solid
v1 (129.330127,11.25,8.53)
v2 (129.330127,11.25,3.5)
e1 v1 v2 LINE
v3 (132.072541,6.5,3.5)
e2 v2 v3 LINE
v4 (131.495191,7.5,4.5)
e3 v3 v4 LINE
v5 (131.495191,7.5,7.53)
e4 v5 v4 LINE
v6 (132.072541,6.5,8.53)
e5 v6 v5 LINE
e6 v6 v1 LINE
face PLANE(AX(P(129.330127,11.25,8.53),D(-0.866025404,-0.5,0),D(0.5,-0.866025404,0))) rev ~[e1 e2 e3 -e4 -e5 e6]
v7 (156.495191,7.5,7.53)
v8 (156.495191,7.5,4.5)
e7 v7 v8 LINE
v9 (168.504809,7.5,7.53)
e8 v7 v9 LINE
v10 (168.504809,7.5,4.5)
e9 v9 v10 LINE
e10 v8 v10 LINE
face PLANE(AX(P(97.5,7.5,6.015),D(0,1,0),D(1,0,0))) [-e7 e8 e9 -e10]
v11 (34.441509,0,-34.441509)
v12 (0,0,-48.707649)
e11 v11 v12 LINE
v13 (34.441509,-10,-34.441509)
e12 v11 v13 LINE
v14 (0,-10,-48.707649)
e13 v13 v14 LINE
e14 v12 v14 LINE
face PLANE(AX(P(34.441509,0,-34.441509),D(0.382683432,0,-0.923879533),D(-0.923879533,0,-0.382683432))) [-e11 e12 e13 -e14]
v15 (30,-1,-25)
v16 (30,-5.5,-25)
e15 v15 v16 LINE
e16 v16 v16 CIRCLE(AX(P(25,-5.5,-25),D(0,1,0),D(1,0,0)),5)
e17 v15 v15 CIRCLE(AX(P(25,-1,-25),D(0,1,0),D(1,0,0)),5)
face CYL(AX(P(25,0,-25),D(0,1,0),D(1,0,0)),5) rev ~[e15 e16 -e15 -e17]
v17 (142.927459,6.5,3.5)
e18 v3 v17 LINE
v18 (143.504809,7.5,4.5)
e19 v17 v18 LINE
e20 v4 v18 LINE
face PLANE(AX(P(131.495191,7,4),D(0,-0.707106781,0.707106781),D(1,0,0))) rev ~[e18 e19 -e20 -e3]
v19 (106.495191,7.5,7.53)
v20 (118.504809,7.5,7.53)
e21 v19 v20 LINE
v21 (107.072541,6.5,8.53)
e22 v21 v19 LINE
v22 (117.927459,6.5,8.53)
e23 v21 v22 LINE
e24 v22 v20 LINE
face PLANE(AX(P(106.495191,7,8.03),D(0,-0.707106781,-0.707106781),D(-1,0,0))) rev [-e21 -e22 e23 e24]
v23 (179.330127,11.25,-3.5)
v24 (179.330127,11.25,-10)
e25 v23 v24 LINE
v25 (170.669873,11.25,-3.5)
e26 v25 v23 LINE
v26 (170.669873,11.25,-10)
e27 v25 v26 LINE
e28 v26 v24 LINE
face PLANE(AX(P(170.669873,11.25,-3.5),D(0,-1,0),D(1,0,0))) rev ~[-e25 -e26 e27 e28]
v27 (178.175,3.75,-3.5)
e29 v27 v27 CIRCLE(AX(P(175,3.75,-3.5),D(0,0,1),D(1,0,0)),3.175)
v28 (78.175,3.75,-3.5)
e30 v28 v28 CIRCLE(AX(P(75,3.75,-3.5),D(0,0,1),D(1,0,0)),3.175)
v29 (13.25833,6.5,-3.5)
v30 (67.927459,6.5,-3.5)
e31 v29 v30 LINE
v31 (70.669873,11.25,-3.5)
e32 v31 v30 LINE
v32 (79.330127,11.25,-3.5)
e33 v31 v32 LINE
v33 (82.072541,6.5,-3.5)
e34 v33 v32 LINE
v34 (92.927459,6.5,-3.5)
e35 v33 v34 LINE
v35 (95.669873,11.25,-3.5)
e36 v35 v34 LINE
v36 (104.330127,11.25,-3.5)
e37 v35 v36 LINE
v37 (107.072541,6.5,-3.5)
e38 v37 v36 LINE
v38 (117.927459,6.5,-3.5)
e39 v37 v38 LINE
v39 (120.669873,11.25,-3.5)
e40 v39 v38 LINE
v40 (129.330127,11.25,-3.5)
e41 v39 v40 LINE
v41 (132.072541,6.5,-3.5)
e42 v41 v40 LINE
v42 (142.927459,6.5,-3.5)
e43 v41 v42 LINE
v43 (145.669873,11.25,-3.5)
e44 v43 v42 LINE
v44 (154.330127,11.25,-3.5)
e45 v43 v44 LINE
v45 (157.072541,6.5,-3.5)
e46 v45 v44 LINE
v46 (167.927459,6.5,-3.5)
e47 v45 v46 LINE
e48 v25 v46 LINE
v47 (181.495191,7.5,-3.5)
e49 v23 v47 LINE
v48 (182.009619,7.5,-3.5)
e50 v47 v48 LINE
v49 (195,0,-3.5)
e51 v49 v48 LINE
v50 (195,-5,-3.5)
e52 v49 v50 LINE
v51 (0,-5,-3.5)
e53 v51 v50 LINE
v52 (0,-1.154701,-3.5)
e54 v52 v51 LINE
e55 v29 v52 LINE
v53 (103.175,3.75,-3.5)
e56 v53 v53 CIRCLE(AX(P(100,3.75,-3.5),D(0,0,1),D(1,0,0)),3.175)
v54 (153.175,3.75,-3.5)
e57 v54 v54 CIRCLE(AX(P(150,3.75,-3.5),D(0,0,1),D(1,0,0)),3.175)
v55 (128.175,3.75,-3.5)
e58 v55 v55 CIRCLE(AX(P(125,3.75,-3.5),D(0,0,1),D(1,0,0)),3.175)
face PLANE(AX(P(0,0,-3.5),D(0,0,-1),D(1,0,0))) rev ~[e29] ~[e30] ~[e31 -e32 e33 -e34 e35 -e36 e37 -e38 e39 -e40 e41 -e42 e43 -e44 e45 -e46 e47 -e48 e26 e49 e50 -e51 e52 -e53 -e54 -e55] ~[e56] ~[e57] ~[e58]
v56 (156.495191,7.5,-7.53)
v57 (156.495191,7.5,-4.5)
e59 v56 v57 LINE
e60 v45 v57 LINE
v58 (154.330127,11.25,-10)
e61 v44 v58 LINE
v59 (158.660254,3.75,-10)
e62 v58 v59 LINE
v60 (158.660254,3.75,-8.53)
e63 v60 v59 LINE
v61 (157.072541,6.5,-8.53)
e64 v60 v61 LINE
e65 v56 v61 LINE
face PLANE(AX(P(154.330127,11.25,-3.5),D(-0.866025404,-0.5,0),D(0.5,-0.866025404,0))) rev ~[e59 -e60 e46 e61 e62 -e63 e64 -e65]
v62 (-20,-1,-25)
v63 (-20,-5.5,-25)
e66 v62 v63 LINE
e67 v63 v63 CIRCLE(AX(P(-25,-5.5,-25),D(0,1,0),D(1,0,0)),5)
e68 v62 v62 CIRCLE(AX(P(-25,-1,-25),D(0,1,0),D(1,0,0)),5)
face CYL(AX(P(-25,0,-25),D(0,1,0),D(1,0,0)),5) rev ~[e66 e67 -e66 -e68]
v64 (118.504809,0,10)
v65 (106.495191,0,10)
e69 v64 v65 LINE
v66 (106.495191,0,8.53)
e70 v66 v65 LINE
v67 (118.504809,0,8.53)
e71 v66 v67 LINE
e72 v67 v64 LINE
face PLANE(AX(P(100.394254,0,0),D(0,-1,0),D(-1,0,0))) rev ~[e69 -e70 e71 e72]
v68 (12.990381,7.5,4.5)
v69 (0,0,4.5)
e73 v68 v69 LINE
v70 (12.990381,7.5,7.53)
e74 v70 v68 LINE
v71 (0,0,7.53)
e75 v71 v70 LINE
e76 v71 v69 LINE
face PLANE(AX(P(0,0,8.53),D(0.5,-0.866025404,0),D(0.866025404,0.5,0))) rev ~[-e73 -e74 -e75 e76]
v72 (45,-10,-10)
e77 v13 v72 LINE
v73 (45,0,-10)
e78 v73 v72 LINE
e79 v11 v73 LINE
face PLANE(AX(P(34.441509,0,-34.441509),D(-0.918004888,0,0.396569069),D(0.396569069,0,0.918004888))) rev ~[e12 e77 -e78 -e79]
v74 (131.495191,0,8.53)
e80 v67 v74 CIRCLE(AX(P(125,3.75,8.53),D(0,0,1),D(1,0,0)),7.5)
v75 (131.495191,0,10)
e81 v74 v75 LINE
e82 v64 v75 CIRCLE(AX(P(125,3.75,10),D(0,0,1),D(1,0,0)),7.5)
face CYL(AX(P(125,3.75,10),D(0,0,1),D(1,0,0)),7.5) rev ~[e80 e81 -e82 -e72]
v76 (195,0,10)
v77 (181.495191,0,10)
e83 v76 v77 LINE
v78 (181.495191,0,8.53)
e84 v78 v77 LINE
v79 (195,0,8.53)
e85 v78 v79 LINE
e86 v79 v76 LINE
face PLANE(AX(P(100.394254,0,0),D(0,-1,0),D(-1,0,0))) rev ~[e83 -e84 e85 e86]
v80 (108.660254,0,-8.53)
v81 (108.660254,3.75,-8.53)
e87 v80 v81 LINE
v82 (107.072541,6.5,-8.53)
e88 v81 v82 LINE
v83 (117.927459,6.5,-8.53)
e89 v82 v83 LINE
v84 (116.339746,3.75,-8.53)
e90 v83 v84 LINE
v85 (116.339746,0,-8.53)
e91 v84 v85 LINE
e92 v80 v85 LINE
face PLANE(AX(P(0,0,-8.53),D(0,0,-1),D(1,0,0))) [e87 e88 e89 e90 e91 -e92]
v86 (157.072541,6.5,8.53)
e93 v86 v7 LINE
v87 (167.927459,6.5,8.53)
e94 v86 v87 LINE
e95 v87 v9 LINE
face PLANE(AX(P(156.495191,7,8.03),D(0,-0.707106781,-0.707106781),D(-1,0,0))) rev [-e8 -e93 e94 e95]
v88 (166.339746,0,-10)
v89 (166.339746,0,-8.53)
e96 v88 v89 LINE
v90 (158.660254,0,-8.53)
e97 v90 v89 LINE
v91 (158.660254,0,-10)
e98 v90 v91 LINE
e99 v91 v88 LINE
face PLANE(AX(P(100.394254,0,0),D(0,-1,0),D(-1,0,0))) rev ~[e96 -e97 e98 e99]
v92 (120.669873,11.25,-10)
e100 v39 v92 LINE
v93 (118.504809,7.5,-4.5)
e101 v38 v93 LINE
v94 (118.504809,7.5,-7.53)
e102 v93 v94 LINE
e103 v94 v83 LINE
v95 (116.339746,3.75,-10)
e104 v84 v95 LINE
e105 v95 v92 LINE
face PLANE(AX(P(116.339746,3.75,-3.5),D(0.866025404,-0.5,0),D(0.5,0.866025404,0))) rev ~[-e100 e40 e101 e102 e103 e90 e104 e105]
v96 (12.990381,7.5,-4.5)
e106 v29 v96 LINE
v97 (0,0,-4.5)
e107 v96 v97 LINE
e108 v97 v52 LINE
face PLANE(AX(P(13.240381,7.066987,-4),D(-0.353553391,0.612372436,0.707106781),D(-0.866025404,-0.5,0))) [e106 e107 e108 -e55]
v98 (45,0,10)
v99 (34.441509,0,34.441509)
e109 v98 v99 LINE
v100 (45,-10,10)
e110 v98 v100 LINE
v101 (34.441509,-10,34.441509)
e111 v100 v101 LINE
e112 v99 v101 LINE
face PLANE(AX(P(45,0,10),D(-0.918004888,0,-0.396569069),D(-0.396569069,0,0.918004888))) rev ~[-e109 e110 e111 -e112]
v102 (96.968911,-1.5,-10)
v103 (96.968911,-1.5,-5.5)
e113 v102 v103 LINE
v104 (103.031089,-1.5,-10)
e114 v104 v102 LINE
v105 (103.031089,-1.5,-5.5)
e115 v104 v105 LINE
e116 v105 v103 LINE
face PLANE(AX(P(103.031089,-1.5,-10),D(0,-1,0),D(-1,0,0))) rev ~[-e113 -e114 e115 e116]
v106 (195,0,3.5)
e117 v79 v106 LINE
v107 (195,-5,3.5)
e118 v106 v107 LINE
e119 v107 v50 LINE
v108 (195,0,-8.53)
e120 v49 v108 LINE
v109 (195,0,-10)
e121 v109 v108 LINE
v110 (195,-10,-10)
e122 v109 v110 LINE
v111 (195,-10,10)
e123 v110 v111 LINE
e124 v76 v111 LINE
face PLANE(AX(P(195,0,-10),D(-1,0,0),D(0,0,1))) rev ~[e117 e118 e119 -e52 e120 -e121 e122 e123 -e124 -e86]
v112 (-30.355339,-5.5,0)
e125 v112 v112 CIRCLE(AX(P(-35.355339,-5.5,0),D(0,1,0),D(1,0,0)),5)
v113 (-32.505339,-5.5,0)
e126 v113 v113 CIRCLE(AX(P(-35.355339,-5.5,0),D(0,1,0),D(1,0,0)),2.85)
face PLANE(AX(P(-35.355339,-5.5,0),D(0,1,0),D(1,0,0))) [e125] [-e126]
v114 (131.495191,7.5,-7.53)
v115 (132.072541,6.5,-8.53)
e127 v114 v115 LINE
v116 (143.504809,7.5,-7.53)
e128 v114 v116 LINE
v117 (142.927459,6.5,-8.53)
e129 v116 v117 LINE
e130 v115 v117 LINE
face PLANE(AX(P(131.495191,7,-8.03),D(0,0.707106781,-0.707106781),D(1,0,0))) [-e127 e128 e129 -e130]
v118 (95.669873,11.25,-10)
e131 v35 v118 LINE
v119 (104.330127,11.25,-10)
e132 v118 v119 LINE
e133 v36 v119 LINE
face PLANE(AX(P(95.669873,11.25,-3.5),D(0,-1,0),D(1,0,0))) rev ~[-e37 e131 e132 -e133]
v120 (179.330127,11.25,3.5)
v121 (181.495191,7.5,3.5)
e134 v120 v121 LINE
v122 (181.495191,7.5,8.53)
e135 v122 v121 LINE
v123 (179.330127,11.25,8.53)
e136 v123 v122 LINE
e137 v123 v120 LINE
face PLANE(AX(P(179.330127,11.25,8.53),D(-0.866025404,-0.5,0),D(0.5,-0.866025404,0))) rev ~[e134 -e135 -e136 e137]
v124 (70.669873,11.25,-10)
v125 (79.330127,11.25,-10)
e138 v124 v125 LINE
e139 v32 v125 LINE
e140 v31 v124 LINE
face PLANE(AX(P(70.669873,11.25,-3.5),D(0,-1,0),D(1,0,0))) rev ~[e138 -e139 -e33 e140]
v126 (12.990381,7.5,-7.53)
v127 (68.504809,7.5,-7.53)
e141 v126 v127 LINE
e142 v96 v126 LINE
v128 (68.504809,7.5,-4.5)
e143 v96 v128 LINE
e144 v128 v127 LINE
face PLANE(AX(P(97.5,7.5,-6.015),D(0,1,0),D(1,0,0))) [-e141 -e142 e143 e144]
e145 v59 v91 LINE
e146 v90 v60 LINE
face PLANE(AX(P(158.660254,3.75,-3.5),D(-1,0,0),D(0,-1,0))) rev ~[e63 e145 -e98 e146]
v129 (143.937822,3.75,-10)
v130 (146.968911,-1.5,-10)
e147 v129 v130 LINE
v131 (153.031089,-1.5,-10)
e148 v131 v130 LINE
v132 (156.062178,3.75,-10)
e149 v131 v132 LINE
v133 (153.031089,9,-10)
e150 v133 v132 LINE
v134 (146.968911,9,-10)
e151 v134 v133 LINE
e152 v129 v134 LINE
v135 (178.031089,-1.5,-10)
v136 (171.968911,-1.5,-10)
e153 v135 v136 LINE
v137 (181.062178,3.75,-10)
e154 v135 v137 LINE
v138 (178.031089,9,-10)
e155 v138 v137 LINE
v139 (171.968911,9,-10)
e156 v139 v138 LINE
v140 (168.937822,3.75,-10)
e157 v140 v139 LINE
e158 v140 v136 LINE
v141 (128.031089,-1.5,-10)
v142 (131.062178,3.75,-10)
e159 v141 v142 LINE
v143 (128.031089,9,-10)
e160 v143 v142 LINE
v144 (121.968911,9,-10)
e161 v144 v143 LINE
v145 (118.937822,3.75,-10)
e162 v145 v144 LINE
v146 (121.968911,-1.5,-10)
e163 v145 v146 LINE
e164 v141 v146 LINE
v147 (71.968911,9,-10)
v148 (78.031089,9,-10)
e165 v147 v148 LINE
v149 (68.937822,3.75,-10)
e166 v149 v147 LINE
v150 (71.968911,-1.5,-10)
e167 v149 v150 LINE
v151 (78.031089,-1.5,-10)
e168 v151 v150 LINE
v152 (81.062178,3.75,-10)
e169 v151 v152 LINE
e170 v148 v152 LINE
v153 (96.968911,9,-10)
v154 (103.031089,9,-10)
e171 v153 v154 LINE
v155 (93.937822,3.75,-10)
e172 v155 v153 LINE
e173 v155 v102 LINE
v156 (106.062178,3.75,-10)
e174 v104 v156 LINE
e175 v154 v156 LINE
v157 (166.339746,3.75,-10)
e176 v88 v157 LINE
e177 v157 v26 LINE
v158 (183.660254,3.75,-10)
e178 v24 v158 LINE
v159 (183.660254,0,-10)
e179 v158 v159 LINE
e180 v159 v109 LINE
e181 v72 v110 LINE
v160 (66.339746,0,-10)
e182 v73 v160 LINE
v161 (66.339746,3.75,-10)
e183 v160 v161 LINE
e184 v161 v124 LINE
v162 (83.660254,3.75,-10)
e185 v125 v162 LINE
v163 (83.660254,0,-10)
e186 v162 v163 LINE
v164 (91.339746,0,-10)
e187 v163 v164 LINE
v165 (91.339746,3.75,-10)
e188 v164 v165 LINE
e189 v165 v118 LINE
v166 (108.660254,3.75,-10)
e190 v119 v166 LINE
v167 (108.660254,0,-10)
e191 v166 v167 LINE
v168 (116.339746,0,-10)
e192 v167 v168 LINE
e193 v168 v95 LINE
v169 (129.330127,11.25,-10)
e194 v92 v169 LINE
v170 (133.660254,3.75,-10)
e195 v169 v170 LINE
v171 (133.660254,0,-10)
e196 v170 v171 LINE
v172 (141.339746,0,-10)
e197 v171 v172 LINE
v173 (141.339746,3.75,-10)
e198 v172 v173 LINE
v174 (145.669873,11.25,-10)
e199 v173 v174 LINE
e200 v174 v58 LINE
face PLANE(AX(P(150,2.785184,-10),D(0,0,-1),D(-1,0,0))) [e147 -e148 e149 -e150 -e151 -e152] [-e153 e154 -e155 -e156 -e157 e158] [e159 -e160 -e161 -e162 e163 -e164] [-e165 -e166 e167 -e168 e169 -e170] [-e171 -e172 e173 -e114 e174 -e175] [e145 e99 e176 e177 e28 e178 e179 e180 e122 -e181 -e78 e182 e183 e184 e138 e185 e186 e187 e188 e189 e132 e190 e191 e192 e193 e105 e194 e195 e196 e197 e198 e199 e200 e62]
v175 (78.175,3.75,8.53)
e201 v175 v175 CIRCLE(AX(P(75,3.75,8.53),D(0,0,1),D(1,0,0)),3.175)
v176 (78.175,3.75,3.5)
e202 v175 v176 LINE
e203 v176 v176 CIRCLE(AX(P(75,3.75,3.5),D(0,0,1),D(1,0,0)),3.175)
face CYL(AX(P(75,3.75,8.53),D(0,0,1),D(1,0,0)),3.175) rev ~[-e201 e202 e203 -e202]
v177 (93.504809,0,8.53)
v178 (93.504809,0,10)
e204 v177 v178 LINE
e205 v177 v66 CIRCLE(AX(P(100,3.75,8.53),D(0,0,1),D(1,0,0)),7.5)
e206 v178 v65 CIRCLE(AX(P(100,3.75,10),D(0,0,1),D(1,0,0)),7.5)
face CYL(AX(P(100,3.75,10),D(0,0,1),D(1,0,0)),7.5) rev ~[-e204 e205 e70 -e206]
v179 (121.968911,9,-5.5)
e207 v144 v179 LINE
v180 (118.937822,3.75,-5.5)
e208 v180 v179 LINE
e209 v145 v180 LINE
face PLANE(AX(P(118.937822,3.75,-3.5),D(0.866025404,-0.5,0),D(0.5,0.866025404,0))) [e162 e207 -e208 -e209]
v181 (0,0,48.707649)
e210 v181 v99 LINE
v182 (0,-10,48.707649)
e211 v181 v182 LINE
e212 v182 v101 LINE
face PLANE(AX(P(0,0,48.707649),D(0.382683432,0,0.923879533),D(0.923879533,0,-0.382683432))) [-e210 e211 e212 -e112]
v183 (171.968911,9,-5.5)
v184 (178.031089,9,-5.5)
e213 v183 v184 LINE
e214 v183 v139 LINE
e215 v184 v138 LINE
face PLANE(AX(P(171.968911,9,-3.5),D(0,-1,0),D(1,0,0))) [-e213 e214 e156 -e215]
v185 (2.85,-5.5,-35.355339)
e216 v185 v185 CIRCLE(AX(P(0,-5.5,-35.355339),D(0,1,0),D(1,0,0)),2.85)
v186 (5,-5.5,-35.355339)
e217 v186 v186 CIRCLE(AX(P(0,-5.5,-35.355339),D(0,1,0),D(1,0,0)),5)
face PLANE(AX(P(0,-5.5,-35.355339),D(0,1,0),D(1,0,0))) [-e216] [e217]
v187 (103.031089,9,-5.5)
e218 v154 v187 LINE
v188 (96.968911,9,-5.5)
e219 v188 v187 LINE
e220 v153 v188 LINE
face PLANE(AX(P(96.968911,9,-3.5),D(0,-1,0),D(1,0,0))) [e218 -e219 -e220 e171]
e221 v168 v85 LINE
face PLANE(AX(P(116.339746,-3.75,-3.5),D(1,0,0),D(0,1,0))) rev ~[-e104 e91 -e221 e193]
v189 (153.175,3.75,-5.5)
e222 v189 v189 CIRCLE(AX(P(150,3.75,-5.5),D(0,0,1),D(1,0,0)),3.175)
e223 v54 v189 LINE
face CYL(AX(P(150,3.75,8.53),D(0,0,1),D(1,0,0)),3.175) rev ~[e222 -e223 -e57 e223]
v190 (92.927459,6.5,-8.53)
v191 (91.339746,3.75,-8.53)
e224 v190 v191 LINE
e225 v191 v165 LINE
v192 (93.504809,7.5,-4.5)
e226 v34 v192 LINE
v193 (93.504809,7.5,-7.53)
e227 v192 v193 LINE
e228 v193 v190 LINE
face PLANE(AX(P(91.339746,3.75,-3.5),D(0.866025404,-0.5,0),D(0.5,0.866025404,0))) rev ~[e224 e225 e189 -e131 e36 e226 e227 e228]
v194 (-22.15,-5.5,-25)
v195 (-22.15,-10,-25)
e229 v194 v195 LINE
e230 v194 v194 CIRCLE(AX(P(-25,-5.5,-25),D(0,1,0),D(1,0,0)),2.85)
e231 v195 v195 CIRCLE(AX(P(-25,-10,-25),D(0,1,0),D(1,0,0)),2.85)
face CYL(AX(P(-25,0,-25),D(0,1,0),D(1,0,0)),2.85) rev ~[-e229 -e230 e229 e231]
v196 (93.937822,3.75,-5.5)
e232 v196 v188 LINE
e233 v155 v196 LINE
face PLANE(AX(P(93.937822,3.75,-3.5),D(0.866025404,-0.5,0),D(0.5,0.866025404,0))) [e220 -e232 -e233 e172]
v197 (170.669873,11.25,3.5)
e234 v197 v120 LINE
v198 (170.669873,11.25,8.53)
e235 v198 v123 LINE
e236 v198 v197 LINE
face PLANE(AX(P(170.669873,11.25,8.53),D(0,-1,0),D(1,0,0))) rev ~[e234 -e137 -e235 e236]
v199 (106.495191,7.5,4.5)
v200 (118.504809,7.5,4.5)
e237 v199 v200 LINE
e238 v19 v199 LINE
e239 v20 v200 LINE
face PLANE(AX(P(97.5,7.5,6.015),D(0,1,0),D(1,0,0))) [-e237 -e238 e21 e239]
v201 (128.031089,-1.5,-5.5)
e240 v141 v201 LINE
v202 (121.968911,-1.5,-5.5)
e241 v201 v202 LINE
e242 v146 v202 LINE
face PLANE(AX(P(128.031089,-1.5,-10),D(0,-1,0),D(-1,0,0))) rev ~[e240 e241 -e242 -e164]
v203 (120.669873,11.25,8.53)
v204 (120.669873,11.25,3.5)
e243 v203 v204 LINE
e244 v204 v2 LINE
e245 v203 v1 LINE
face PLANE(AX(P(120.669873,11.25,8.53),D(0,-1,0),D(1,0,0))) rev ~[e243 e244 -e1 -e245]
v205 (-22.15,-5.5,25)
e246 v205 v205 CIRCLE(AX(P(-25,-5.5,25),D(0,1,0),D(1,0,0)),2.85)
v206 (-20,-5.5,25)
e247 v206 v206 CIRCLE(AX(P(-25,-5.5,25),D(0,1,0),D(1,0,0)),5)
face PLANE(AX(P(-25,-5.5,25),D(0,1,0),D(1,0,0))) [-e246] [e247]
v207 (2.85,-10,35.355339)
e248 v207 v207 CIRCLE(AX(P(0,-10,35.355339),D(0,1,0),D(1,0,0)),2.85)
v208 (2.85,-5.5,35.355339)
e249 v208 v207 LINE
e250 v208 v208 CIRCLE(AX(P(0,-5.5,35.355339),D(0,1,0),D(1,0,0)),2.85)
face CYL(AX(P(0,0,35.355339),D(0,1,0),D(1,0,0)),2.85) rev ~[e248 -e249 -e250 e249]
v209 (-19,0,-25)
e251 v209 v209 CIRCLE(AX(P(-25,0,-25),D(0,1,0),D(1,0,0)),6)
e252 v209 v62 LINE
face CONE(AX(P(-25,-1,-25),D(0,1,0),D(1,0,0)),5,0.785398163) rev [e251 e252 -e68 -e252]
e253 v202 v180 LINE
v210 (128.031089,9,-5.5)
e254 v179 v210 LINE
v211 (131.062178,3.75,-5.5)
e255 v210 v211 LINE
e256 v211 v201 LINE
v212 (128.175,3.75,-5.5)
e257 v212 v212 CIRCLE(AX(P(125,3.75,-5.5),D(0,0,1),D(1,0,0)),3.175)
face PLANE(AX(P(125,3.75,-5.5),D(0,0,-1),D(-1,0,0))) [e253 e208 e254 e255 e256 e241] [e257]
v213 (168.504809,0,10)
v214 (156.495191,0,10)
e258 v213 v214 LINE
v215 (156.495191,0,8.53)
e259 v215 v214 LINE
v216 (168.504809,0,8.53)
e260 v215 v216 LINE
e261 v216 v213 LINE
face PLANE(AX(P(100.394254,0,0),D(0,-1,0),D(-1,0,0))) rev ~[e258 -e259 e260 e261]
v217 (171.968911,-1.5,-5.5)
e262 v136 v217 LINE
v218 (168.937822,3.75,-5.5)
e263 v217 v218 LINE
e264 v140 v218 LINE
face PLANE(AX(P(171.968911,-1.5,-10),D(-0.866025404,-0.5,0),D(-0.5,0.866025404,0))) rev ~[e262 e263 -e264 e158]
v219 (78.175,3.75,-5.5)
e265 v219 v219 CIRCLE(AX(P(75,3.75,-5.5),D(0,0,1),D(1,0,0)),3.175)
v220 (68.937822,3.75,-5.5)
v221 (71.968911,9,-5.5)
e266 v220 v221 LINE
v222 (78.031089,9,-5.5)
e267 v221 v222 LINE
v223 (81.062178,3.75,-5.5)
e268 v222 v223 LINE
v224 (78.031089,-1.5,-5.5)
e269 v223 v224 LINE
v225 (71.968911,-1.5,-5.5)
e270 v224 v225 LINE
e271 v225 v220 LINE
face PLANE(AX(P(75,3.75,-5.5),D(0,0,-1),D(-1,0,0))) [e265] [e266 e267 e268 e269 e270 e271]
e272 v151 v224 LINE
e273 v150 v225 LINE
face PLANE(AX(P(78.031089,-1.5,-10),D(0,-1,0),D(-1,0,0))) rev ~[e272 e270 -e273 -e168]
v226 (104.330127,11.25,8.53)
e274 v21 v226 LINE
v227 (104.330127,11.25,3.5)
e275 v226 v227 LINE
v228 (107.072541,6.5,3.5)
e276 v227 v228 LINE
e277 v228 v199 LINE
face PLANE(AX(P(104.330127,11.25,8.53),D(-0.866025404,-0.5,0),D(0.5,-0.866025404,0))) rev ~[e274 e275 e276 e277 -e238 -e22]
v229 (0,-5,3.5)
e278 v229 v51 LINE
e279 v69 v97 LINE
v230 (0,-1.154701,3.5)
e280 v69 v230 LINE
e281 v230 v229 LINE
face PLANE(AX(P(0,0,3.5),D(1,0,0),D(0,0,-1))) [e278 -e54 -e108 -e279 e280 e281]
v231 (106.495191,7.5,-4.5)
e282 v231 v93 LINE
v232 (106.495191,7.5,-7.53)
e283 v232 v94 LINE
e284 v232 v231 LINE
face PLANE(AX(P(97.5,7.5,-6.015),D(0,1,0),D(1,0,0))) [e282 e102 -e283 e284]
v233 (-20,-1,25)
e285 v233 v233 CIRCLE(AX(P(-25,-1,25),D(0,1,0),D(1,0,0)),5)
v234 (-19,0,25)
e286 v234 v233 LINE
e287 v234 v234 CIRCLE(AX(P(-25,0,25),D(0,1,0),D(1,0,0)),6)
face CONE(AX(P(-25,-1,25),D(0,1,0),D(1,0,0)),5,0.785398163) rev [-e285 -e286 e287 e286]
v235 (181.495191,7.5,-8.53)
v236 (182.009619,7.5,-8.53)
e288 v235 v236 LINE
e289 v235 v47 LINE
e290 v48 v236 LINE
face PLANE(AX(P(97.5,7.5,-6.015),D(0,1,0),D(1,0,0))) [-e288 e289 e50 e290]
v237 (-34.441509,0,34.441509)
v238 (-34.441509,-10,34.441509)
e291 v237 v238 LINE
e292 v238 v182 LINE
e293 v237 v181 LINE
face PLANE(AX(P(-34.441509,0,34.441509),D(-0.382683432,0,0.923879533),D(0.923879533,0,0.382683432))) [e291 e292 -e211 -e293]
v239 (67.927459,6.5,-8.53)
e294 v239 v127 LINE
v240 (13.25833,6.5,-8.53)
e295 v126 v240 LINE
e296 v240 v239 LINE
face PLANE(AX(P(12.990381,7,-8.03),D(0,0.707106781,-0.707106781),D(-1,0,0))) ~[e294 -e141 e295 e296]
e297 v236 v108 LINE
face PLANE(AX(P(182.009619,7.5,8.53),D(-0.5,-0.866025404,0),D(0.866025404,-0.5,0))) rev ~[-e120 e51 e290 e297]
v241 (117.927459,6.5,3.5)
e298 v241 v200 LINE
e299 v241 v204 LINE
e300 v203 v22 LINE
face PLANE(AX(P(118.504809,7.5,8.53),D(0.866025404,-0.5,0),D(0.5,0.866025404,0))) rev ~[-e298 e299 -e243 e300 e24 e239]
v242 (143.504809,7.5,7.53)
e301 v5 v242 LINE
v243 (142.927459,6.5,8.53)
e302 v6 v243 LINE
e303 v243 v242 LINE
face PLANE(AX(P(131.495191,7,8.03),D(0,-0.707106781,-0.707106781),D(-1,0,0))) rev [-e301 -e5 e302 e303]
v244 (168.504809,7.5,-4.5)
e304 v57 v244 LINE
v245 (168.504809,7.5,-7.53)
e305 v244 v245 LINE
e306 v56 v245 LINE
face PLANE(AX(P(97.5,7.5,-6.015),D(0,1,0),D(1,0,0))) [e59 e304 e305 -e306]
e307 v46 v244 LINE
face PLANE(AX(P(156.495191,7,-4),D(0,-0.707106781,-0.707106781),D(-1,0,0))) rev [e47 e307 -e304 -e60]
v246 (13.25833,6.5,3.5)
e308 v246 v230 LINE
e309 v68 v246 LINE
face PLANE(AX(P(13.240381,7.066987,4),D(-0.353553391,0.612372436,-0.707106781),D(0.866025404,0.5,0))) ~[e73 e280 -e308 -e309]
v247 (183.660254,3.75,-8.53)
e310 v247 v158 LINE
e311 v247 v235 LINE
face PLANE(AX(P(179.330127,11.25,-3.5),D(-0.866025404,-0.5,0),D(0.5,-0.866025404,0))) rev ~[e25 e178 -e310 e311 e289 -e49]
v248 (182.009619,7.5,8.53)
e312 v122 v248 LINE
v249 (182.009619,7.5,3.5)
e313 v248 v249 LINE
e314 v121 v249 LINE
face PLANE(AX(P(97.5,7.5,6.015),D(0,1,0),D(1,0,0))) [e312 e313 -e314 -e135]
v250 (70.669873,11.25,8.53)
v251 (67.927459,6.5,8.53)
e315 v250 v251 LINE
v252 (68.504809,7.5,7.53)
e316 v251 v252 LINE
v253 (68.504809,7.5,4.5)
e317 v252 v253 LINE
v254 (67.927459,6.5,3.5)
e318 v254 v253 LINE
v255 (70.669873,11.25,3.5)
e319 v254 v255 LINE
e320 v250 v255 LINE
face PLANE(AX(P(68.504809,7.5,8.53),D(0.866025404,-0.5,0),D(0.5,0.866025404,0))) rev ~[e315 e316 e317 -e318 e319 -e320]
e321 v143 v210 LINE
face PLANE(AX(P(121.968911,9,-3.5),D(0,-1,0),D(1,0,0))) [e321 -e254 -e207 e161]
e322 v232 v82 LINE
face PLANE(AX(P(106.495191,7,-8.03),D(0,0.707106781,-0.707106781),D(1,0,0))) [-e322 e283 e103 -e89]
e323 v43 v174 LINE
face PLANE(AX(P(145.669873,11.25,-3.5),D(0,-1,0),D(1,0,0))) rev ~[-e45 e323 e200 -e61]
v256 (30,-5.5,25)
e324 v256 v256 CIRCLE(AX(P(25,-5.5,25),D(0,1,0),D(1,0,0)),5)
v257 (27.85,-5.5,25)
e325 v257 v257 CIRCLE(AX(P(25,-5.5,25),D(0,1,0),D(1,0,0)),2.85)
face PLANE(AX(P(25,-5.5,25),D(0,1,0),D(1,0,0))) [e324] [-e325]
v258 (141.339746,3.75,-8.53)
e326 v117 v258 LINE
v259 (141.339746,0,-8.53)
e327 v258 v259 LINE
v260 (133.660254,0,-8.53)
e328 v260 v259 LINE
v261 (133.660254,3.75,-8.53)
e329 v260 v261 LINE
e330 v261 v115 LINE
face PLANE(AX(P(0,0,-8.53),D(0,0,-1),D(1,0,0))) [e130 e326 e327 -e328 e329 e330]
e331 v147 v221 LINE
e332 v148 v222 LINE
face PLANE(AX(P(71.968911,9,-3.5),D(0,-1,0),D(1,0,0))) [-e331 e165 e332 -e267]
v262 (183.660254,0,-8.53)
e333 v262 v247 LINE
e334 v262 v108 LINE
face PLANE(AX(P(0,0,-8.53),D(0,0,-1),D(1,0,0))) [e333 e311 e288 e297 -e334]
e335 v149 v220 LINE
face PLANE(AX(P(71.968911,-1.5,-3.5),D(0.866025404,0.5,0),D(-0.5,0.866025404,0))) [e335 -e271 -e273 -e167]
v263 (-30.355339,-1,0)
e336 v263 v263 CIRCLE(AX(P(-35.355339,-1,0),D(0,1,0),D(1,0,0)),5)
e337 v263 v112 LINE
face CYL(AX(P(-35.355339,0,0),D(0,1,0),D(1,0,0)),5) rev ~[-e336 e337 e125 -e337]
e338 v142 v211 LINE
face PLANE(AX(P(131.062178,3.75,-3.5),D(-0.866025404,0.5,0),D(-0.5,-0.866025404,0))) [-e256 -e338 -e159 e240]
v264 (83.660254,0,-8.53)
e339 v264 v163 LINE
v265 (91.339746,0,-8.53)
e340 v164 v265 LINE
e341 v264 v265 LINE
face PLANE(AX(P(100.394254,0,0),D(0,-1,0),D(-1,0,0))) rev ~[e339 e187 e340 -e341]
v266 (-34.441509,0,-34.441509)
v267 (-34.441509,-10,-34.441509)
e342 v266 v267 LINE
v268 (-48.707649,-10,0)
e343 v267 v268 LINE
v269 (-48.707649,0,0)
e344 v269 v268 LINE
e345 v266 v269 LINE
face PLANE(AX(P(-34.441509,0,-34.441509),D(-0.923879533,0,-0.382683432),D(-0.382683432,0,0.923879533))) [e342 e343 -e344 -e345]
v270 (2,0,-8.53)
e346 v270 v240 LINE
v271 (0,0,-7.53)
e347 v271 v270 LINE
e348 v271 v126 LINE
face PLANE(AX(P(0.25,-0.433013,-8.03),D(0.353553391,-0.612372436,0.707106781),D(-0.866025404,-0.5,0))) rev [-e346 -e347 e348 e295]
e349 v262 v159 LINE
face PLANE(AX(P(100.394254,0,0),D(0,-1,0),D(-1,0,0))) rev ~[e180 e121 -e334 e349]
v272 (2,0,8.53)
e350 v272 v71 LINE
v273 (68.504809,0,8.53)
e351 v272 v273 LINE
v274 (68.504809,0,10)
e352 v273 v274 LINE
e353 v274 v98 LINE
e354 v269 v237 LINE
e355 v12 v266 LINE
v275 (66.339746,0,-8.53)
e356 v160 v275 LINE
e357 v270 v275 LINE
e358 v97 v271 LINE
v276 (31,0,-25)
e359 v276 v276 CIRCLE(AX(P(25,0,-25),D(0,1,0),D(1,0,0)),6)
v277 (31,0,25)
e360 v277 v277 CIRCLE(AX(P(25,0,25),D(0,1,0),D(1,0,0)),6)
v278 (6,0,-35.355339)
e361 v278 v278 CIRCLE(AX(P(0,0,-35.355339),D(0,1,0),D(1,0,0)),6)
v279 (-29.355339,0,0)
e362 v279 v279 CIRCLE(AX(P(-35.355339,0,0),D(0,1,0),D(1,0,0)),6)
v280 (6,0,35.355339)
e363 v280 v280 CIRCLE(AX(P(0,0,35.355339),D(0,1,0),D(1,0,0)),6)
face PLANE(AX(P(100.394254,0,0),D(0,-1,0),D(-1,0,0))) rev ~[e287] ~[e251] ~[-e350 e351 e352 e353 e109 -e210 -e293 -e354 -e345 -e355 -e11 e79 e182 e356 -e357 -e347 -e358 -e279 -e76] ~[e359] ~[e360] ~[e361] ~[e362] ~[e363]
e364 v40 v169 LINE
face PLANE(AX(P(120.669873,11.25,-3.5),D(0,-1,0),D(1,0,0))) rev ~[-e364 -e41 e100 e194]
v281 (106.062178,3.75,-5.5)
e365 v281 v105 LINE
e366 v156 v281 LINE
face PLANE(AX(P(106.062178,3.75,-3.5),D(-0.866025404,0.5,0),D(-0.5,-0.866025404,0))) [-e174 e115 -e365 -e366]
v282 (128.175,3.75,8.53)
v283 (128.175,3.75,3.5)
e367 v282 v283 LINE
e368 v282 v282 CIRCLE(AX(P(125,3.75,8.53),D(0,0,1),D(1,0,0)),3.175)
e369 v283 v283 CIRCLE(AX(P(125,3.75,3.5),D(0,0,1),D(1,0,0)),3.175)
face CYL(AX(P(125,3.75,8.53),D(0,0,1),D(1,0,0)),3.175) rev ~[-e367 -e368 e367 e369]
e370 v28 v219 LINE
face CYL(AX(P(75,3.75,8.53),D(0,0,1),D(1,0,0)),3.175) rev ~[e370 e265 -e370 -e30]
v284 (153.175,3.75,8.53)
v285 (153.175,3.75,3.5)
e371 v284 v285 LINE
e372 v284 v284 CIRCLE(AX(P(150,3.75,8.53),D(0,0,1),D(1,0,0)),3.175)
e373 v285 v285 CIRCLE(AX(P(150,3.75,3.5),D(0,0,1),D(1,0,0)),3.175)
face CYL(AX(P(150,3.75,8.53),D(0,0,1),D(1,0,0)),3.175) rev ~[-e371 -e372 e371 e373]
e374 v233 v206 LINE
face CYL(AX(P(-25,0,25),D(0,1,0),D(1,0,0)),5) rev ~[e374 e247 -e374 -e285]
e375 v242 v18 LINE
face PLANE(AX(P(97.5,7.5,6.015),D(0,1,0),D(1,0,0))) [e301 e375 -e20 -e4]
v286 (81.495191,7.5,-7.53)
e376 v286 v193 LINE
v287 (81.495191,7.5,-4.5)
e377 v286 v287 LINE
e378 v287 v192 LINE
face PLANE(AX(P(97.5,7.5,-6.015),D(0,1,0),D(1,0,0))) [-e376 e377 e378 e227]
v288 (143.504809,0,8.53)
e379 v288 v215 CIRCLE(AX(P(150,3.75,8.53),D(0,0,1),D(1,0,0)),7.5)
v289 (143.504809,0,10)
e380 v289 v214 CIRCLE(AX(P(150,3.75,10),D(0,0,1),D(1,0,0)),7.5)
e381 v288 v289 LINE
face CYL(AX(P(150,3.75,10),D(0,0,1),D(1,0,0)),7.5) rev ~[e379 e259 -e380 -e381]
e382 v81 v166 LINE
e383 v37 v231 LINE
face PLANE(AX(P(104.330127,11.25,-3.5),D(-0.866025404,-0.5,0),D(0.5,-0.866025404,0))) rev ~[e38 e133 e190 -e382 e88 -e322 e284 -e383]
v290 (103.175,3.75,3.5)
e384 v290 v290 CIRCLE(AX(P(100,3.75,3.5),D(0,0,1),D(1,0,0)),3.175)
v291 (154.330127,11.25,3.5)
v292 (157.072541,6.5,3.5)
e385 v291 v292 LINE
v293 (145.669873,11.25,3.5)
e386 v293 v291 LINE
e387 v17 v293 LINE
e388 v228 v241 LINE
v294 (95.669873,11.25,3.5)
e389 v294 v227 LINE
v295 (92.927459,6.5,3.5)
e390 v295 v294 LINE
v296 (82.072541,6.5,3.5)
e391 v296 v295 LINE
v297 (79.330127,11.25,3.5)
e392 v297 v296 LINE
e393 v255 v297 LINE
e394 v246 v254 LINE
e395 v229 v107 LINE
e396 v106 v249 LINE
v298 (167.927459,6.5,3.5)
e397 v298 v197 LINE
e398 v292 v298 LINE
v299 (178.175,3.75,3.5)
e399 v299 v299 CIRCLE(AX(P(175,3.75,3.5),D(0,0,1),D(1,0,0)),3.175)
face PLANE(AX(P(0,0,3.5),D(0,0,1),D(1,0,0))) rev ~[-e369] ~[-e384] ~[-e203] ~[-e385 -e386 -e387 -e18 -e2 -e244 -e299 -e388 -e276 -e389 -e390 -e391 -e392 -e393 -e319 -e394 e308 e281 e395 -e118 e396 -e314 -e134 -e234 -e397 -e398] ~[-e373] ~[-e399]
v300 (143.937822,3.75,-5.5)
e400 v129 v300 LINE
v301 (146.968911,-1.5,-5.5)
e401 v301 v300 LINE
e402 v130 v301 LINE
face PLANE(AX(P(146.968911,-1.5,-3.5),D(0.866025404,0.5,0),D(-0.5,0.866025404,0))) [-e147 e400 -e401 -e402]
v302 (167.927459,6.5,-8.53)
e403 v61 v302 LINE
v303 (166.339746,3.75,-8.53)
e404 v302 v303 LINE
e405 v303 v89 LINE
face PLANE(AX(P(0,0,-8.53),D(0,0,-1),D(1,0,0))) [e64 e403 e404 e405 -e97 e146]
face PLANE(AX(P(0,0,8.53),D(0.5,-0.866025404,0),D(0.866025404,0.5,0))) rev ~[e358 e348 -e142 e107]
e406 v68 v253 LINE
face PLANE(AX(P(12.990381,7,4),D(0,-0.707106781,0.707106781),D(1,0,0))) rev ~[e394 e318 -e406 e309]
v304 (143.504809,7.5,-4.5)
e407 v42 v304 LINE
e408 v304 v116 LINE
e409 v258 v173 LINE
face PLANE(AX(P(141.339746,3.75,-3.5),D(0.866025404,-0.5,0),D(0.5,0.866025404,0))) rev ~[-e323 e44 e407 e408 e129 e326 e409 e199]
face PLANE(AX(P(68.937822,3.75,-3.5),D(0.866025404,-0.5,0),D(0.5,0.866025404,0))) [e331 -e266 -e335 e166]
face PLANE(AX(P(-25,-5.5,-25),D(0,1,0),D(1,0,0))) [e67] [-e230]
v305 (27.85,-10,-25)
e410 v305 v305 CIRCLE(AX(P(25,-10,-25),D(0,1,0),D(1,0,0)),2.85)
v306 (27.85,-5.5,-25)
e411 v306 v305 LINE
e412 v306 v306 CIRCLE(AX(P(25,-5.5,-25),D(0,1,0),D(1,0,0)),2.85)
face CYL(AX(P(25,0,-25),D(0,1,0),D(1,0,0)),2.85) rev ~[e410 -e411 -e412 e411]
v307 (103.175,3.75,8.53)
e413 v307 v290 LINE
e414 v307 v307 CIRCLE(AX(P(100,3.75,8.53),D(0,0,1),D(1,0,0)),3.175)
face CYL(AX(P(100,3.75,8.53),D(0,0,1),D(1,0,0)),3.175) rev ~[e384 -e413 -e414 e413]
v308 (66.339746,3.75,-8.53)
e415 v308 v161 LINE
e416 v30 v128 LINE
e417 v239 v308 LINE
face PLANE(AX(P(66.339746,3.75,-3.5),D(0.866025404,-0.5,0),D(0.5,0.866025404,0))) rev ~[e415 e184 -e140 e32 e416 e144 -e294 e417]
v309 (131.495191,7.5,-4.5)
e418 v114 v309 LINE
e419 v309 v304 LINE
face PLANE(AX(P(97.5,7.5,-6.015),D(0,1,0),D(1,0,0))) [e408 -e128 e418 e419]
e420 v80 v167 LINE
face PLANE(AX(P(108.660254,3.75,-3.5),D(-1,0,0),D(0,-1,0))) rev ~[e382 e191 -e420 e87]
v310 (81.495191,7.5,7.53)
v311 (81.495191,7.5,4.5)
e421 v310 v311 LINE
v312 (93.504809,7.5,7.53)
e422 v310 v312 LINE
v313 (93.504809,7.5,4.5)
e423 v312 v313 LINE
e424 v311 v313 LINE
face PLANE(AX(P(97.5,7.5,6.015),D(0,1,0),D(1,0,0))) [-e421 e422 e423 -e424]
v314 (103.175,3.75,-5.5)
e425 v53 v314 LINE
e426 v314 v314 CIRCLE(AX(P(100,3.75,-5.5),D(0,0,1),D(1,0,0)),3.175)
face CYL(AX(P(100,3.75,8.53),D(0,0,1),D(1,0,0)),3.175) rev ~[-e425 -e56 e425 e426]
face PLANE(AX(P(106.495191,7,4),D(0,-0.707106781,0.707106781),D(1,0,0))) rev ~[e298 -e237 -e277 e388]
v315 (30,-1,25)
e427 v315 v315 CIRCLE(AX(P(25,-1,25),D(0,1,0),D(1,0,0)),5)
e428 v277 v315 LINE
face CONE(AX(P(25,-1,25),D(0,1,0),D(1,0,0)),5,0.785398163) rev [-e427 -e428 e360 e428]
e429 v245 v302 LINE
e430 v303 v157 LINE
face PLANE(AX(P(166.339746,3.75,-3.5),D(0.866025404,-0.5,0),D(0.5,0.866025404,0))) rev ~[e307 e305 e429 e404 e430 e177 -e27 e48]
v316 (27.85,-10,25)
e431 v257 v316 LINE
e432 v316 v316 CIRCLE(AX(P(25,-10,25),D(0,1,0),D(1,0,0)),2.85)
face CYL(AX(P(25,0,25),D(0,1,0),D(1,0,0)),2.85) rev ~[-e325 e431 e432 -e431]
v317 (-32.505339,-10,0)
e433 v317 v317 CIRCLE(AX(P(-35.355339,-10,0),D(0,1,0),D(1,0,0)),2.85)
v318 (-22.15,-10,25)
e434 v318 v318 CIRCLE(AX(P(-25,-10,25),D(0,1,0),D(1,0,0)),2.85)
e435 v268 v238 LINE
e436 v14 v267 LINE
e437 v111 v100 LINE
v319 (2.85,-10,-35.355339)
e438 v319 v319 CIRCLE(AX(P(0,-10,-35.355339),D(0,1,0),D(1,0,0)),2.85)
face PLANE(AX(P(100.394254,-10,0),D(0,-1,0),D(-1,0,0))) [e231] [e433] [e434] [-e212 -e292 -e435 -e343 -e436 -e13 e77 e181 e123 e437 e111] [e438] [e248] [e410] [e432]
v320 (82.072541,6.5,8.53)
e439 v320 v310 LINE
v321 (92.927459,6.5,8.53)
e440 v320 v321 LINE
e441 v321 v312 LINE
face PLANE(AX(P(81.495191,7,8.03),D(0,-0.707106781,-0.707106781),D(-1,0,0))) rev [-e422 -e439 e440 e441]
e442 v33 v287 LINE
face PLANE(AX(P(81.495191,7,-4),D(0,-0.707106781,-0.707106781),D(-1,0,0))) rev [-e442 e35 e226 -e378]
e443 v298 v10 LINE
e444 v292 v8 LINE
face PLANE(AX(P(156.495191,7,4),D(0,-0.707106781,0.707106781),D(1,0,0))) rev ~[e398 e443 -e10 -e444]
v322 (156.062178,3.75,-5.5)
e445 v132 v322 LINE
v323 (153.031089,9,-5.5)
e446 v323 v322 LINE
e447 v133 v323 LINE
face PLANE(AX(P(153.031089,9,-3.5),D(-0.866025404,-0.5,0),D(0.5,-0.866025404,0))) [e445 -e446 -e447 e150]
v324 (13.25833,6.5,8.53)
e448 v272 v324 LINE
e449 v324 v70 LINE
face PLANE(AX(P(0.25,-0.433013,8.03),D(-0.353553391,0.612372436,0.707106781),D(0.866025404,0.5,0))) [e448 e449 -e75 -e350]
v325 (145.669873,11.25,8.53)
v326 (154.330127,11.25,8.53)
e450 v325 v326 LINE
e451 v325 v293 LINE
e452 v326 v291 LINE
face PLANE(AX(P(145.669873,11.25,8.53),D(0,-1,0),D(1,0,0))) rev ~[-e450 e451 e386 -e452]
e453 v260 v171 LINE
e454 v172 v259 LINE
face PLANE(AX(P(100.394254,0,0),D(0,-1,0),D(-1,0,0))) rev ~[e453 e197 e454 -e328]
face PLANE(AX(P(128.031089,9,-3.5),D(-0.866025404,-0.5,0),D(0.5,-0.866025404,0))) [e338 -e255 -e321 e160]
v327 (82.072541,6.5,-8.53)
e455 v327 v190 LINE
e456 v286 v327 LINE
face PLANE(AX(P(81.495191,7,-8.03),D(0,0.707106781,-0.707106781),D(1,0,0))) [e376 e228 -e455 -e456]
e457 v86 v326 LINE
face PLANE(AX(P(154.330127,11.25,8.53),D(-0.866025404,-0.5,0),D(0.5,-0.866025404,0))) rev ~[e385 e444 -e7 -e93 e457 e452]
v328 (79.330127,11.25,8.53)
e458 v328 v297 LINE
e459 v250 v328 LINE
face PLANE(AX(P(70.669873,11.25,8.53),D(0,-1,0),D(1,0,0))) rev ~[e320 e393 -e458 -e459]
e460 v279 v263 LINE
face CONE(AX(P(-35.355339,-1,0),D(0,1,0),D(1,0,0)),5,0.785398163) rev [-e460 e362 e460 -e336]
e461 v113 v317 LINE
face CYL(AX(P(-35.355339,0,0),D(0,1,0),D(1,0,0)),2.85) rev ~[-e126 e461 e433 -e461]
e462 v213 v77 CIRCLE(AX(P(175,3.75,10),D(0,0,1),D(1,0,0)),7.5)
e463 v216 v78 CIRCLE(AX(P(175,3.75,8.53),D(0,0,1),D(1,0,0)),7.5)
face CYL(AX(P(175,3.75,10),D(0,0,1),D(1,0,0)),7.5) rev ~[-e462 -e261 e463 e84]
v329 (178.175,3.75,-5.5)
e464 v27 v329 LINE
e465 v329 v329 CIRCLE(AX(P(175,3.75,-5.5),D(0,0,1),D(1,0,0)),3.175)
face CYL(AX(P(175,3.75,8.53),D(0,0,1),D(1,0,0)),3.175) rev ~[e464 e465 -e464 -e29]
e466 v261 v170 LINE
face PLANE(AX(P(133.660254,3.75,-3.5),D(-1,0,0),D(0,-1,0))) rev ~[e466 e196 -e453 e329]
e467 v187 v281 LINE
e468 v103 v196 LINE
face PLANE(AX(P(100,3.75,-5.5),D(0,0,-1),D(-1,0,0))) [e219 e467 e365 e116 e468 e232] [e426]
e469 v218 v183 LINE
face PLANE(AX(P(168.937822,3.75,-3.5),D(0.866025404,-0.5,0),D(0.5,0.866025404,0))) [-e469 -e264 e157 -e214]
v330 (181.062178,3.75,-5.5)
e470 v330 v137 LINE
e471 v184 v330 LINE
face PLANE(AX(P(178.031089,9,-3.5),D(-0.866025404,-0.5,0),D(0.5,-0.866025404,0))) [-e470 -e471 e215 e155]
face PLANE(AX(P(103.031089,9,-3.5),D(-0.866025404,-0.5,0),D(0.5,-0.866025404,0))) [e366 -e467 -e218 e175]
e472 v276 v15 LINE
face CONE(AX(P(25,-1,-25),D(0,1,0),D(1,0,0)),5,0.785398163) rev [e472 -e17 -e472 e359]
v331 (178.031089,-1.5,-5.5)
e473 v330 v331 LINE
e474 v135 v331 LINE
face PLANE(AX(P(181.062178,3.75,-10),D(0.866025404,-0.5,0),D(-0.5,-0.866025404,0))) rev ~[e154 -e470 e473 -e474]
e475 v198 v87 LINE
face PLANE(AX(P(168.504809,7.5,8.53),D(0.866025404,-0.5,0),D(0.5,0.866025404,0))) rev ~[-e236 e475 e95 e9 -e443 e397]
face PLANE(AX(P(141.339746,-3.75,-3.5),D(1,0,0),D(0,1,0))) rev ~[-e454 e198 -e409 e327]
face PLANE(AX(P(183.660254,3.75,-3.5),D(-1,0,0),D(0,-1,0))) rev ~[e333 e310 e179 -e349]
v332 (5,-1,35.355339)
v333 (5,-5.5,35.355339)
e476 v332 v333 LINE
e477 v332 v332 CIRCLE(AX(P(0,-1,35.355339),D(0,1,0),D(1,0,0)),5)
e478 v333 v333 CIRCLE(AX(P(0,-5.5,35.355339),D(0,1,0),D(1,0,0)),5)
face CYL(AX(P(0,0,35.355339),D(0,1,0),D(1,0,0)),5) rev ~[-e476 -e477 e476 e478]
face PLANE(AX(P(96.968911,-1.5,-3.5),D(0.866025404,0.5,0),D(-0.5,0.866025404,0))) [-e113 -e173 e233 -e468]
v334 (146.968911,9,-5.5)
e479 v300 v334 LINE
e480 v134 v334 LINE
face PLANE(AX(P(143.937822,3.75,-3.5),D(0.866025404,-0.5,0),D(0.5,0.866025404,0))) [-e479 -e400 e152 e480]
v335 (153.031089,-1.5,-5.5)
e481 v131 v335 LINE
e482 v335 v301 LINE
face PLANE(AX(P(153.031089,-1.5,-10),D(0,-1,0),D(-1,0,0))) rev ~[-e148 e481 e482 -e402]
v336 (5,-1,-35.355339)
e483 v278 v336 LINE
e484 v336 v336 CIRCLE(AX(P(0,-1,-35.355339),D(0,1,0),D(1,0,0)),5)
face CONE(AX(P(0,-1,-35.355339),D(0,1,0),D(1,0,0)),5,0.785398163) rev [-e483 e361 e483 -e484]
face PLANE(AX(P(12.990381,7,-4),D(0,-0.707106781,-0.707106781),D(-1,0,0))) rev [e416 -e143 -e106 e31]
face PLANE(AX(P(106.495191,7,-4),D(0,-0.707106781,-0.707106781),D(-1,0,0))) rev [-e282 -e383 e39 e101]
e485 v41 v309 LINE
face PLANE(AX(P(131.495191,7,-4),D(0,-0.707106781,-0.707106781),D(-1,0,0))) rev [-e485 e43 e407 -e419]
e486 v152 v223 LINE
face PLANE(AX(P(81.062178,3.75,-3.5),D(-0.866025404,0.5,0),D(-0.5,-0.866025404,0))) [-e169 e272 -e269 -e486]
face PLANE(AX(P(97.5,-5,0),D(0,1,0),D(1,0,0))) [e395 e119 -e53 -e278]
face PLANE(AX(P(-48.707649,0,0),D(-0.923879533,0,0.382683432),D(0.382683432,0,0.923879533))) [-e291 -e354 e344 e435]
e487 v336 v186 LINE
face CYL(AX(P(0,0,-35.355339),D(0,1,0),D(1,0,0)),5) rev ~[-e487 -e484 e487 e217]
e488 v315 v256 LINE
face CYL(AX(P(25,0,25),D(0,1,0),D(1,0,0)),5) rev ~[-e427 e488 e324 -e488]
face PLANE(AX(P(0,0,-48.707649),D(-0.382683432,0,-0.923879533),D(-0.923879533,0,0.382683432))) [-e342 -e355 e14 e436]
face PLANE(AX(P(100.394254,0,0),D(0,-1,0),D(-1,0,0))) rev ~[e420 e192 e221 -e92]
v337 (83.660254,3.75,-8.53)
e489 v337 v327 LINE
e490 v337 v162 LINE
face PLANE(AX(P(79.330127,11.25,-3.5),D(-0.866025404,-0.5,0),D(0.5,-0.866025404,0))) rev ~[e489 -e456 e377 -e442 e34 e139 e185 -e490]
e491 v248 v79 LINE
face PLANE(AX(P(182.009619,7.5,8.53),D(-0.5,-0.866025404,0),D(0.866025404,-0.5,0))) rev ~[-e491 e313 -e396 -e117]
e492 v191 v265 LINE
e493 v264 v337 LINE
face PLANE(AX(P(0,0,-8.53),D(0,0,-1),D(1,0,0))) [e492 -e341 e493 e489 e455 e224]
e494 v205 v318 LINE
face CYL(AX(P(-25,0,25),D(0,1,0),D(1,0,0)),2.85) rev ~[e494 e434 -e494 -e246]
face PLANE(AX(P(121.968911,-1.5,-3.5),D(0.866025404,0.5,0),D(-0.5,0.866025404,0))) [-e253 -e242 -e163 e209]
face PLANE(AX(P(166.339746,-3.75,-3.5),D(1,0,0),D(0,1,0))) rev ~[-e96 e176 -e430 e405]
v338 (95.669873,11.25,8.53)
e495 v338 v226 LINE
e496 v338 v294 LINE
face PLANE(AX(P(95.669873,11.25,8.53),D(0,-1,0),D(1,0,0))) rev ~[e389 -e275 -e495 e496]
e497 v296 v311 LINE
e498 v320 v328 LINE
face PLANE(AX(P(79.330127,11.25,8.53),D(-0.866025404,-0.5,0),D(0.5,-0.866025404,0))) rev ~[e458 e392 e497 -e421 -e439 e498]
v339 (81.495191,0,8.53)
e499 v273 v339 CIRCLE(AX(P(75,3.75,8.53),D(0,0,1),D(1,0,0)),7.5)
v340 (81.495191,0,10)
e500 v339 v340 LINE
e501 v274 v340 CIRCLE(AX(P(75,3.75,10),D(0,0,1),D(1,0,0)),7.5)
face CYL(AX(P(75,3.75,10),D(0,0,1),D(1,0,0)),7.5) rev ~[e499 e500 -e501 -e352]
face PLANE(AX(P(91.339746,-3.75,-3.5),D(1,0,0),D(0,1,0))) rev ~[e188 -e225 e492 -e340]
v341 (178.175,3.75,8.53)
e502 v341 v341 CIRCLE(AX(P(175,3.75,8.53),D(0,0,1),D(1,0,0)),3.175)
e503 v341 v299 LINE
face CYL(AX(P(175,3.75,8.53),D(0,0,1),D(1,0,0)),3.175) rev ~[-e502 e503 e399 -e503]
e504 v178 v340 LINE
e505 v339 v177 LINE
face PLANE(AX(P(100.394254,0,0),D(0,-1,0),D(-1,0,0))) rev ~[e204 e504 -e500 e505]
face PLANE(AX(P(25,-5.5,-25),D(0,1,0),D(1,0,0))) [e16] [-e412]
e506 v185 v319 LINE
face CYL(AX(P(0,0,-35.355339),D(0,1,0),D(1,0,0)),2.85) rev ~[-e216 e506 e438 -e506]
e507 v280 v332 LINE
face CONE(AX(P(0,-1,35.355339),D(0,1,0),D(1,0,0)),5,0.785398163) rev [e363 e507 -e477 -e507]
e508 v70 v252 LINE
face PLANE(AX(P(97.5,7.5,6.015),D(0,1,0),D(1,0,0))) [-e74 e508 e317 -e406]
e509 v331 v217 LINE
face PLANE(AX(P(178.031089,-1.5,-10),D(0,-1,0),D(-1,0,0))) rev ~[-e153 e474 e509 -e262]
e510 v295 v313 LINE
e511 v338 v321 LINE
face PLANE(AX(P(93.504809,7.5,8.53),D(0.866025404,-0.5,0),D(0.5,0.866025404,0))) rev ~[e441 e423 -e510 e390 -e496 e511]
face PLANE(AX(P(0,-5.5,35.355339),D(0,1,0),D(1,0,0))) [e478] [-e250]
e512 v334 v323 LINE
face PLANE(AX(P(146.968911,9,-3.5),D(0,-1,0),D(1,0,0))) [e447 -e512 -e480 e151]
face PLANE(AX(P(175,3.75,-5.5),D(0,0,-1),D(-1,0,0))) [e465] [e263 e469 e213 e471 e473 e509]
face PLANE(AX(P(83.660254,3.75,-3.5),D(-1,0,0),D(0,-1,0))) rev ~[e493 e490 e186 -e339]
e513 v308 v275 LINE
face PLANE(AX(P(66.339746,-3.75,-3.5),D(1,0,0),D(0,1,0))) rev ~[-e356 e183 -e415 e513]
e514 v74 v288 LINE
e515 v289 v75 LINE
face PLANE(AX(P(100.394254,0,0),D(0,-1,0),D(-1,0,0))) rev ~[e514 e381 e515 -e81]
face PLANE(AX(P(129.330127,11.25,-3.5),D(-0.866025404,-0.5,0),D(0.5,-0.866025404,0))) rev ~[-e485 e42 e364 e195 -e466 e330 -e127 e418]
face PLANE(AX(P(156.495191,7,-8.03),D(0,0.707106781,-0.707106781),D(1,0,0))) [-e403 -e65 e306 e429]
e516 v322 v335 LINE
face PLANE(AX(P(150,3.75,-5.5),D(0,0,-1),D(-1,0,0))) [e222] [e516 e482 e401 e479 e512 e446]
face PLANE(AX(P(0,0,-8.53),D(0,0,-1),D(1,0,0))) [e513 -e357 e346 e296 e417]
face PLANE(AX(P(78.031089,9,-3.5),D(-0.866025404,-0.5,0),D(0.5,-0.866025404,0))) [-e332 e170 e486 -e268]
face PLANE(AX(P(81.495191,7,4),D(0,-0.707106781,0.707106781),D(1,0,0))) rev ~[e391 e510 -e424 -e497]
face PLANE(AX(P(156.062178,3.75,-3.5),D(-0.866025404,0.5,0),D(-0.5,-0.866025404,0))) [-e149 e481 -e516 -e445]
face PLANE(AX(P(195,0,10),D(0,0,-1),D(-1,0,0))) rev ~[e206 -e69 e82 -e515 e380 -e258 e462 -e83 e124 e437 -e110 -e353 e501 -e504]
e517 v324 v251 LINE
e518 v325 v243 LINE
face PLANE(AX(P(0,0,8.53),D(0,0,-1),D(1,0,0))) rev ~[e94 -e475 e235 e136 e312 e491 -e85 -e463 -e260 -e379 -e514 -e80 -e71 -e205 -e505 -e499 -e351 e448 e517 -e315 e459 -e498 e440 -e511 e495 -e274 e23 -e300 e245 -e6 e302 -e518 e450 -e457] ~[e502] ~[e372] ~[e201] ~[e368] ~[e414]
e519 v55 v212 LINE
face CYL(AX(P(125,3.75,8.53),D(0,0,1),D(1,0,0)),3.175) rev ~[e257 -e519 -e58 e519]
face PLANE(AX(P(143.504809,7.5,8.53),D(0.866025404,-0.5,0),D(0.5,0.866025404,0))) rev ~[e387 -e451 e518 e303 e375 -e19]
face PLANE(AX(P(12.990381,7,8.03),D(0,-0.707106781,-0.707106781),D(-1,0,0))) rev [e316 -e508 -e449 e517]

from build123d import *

# Parameters (mm, degrees)
BOSS_EXTRUDE1_DEPTH = 10
SKETCH2_R           = 2.85
CUT_EXTRUDE1_DEPTH  = 14
SKETCH5_R           = 5
CUT_EXTRUDE2_DEPTH  = 5.5
BOSS_EXTRUDE3_DEPTH = 10
SKETCH8_W           = 195
SKETCH8_H           = 5.03
BOSS_EXTRUDE4_DEPTH = 7.5
BOSS_EXTRUDE5_START = -5.03
BOSS_EXTRUDE5_DEPTH = 6.5
CUT_EXTRUDE3_DEPTH  = 17.06
SKETCH10_W          = 195
SKETCH10_H          = 7
CUT_EXTRUDE4_DEPTH  = 5
SKETCH11_R          = 3.175
CUT_EXTRUDE5_DEPTH  = 23
SKETCH12_R          = 7.5
CUT_EXTRUDE6_DEPTH  = 1.47
SKETCH14_W          = 7.794228634
SKETCH14_H          = 5.03
BOSS_EXTRUDE6_DEPTH = 1.5
CUT_EXTRUDE7_DEPTH  = 4.5
BOSS_EXTRUDE7_DEPTH = 5.03
LPATTERN4_COUNT     = 5
LPATTERN4_PITCH     = 25
CHAMFER1_SIZE       = 1
CHAMFER2_SIZE       = 1


with BuildPart() as part:
    # Sketch1 → Boss-Extrude1 (new body)
    with BuildSketch(Plane(origin=(0, 0, 0), x_dir=(1, 0, 0), z_dir=(0, 1, 0))):
        Polygon((48.707649013, 0), (34.441508913, 34.441508913), (0, 48.707649013), (-34.441508913, 34.441508913), (-48.707649013, 0), (-34.441508913, -34.441508913), (0, -48.707649013), (34.441508913, -34.441508913), align=None)
    extrude(amount=-BOSS_EXTRUDE1_DEPTH)

    # Sketch2 → Cut-Extrude1 (cut)
    with BuildSketch(Plane(origin=(0, 0, 0), x_dir=(1, 0, 0), z_dir=(0, 1, 0))):
        with Locations((-35.355339059, 0)):
            Circle(SKETCH2_R)
        with Locations((-25, 25)):
            Circle(SKETCH2_R)
        with Locations((0, 35.355339059)):
            Circle(SKETCH2_R)
        with Locations((25, 25)):
            Circle(SKETCH2_R)
        with Locations((25, -25)):
            Circle(SKETCH2_R)
        with Locations((0, -35.355339059)):
            Circle(SKETCH2_R)
        with Locations((-25, -25)):
            Circle(SKETCH2_R)
    extrude(amount=-CUT_EXTRUDE1_DEPTH, mode=Mode.SUBTRACT)

    # Sketch5 → Cut-Extrude2 (cut)
    with BuildSketch(Plane(origin=(0, 0, 0), x_dir=(1, 0, 0), z_dir=(0, 1, 0))):
        with Locations((-35.355339059, 0)):
            Circle(SKETCH5_R)
        with Locations((-25, 25)):
            Circle(SKETCH5_R)
        with Locations((0, 35.355339059)):
            Circle(SKETCH5_R)
        with Locations((25, 25)):
            Circle(SKETCH5_R)
        with Locations((25, -25)):
            Circle(SKETCH5_R)
        with Locations((0, -35.355339059)):
            Circle(SKETCH5_R)
        with Locations((-25, -25)):
            Circle(SKETCH5_R)
    extrude(amount=-CUT_EXTRUDE2_DEPTH, mode=Mode.SUBTRACT)

    # Sketch7 → Boss-Extrude3 (add)
    with BuildSketch(Plane(origin=(0, 0, 0), x_dir=(1, 0, 0), z_dir=(0, 1, 0))):
        Polygon((45, -10), (34.441508913, -34.441508913), (34.441508913, 34.441508913), (45, 10), (195, 10), (195, -10), align=None)
    extrude(amount=-BOSS_EXTRUDE3_DEPTH)

    # Sketch8 → Boss-Extrude4 (add)
    with BuildSketch(Plane(origin=(0, 0, 0), x_dir=(1, 0, 0), z_dir=(0, 1, 0))):
        with Locations((97.5, -6.015)):
            Rectangle(SKETCH8_W, SKETCH8_H)
        with Locations((97.5, 6.015)):
            Rectangle(SKETCH8_W, SKETCH8_H)
    extrude(amount=BOSS_EXTRUDE4_DEPTH)

    # Sketch13 → Boss-Extrude5 (add)
    with BuildSketch(Plane(origin=(0, 0, -8.53), x_dir=(-1, 0, 0), z_dir=(0, 0, -1)).offset(BOSS_EXTRUDE5_START)):
        Polygon((-166.339745962, 3.75), (-170.669872981, 11.25), (-179.330127019, 11.25), (-183.660254038, 3.75), (-183.660254038, -3.75), (-166.339745962, -3.75), align=None)
        Polygon((-168.937822174, 3.75), (-171.968911087, 9), (-178.031088913, 9), (-181.062177826, 3.75), (-178.031088913, -1.5), (-171.968911087, -1.5), align=None, mode=Mode.SUBTRACT)
    boss_extrude5 = extrude(amount=BOSS_EXTRUDE5_DEPTH)

    # Sketch9 → Cut-Extrude3 (cut)
    with BuildSketch(Plane.XY.offset(8.53)):
        Polygon((0, 0), (12.990381057, 7.5), (0, 7.5), align=None)
        Polygon((182.009618943, 7.5), (195, 0), (195, 7.5), align=None)
    extrude(amount=-CUT_EXTRUDE3_DEPTH, mode=Mode.SUBTRACT)

    # Sketch10 → Cut-Extrude4 (cut)
    with BuildSketch(Plane(origin=(0, 0, 0), x_dir=(1, 0, 0), z_dir=(0, 1, 0))):
        with Locations((97.5, 0)):
            Rectangle(SKETCH10_W, SKETCH10_H)
    extrude(amount=-CUT_EXTRUDE4_DEPTH, mode=Mode.SUBTRACT)

    # Sketch11 → Cut-Extrude5 (cut)
    with BuildSketch(Plane.XY.offset(8.53)):
        with Locations((175, 3.75)):
            Circle(SKETCH11_R)
    cut_extrude5 = extrude(amount=-CUT_EXTRUDE5_DEPTH, mode=Mode.SUBTRACT)

    # Sketch12 → Cut-Extrude6 (cut)
    with BuildSketch(Plane.XY.offset(10)):
        with Locations((175, 3.75)):
            Circle(SKETCH12_R)
    cut_extrude6 = extrude(amount=-CUT_EXTRUDE6_DEPTH, mode=Mode.SUBTRACT)

    # Sketch14 → Boss-Extrude6 (add)
    with BuildSketch(Plane(origin=(0, 7.5, 0), x_dir=(1, 0, 0), z_dir=(0, 1, 0))):
        with Locations((175, 6.015)):
            Rectangle(SKETCH14_W, SKETCH14_H)
    boss_extrude6 = extrude(amount=BOSS_EXTRUDE6_DEPTH)

    # Sketch15 → Cut-Extrude7 (cut)
    with BuildSketch(Plane(origin=(0, 0, -10), x_dir=(-1, 0, 0), z_dir=(0, 0, -1))):
        Polygon((-168.937822174, 3.75), (-171.968911087, 9), (-178.031088913, 9), (-181.062177826, 3.75), (-178.031088913, -1.5), (-171.968911087, -1.5), align=None)
    cut_extrude7 = extrude(amount=-CUT_EXTRUDE7_DEPTH, mode=Mode.SUBTRACT)

    # Sketch16 → Boss-Extrude7 (add)
    with BuildSketch(Plane.XY.offset(8.53)):
        Polygon((168.504809472, 7.5), (170.669872981, 11.25), (179.330127019, 11.25), (181.495190528, 7.5), align=None)
    boss_extrude7 = extrude(amount=-BOSS_EXTRUDE7_DEPTH)

    # LPattern4: Boss-Extrude5, Cut-Extrude5, Cut-Extrude6, Boss-Extrude6, Cut-Extrude7, Boss-Extrude7 ×5
    with Locations(*[(-i * LPATTERN4_PITCH, 0, 0) for i in range(1, LPATTERN4_COUNT)]):
        add(boss_extrude5)
        add(cut_extrude5, mode=Mode.SUBTRACT)
        add(cut_extrude6, mode=Mode.SUBTRACT)
        add(boss_extrude6)
        add(cut_extrude7, mode=Mode.SUBTRACT)
        add(boss_extrude7)

    # Chamfer1
    chamfer1_edges = [part.edges().sort_by_distance(p)[0] for p in [
        (-40.355339059, 0, 0),
        (-30, 0, 25),
        (-5, 0, 35.355339059),
        (20, 0, 25),
        (20, 0, -25),
        (-5, 0, -35.355339059),
        (-30, 0, -25),
    ]]
    chamfer(chamfer1_edges, length=CHAMFER1_SIZE)

    # Chamfer2
    chamfer2_edges = [part.edges().sort_by_distance(p)[0] for p in [
        (162.5, 7.5, -8.53),
        (40.747595264, 7.5, -3.5),
        (6.495190528, 3.75, -3.5),
        (40.747595264, 7.5, 8.53),
        (6.495190528, 3.75, 3.5),
        (6.495190528, 3.75, 8.53),
        (6.495190528, 3.75, -8.53),
        (162.5, 7.5, 3.5),
        (162.5, 7.5, -3.5),
        (137.5, 7.5, -8.53),
        (137.5, 7.5, -3.5),
        (112.5, 7.5, -8.53),
        (112.5, 7.5, -3.5),
        (87.5, 7.5, -8.53),
        (87.5, 7.5, -3.5),
        (40.747595264, 7.5, -8.53),
        (137.5, 7.5, 3.5),
        (162.5, 7.5, 8.53),
        (112.5, 7.5, 3.5),
        (137.5, 7.5, 8.53),
        (87.5, 7.5, 3.5),
        (112.5, 7.5, 8.53),
        (40.747595264, 7.5, 3.5),
        (87.5, 7.5, 8.53),
    ]]
    chamfer(chamfer2_edges, length=CHAMFER2_SIZE)


solid = part.part
